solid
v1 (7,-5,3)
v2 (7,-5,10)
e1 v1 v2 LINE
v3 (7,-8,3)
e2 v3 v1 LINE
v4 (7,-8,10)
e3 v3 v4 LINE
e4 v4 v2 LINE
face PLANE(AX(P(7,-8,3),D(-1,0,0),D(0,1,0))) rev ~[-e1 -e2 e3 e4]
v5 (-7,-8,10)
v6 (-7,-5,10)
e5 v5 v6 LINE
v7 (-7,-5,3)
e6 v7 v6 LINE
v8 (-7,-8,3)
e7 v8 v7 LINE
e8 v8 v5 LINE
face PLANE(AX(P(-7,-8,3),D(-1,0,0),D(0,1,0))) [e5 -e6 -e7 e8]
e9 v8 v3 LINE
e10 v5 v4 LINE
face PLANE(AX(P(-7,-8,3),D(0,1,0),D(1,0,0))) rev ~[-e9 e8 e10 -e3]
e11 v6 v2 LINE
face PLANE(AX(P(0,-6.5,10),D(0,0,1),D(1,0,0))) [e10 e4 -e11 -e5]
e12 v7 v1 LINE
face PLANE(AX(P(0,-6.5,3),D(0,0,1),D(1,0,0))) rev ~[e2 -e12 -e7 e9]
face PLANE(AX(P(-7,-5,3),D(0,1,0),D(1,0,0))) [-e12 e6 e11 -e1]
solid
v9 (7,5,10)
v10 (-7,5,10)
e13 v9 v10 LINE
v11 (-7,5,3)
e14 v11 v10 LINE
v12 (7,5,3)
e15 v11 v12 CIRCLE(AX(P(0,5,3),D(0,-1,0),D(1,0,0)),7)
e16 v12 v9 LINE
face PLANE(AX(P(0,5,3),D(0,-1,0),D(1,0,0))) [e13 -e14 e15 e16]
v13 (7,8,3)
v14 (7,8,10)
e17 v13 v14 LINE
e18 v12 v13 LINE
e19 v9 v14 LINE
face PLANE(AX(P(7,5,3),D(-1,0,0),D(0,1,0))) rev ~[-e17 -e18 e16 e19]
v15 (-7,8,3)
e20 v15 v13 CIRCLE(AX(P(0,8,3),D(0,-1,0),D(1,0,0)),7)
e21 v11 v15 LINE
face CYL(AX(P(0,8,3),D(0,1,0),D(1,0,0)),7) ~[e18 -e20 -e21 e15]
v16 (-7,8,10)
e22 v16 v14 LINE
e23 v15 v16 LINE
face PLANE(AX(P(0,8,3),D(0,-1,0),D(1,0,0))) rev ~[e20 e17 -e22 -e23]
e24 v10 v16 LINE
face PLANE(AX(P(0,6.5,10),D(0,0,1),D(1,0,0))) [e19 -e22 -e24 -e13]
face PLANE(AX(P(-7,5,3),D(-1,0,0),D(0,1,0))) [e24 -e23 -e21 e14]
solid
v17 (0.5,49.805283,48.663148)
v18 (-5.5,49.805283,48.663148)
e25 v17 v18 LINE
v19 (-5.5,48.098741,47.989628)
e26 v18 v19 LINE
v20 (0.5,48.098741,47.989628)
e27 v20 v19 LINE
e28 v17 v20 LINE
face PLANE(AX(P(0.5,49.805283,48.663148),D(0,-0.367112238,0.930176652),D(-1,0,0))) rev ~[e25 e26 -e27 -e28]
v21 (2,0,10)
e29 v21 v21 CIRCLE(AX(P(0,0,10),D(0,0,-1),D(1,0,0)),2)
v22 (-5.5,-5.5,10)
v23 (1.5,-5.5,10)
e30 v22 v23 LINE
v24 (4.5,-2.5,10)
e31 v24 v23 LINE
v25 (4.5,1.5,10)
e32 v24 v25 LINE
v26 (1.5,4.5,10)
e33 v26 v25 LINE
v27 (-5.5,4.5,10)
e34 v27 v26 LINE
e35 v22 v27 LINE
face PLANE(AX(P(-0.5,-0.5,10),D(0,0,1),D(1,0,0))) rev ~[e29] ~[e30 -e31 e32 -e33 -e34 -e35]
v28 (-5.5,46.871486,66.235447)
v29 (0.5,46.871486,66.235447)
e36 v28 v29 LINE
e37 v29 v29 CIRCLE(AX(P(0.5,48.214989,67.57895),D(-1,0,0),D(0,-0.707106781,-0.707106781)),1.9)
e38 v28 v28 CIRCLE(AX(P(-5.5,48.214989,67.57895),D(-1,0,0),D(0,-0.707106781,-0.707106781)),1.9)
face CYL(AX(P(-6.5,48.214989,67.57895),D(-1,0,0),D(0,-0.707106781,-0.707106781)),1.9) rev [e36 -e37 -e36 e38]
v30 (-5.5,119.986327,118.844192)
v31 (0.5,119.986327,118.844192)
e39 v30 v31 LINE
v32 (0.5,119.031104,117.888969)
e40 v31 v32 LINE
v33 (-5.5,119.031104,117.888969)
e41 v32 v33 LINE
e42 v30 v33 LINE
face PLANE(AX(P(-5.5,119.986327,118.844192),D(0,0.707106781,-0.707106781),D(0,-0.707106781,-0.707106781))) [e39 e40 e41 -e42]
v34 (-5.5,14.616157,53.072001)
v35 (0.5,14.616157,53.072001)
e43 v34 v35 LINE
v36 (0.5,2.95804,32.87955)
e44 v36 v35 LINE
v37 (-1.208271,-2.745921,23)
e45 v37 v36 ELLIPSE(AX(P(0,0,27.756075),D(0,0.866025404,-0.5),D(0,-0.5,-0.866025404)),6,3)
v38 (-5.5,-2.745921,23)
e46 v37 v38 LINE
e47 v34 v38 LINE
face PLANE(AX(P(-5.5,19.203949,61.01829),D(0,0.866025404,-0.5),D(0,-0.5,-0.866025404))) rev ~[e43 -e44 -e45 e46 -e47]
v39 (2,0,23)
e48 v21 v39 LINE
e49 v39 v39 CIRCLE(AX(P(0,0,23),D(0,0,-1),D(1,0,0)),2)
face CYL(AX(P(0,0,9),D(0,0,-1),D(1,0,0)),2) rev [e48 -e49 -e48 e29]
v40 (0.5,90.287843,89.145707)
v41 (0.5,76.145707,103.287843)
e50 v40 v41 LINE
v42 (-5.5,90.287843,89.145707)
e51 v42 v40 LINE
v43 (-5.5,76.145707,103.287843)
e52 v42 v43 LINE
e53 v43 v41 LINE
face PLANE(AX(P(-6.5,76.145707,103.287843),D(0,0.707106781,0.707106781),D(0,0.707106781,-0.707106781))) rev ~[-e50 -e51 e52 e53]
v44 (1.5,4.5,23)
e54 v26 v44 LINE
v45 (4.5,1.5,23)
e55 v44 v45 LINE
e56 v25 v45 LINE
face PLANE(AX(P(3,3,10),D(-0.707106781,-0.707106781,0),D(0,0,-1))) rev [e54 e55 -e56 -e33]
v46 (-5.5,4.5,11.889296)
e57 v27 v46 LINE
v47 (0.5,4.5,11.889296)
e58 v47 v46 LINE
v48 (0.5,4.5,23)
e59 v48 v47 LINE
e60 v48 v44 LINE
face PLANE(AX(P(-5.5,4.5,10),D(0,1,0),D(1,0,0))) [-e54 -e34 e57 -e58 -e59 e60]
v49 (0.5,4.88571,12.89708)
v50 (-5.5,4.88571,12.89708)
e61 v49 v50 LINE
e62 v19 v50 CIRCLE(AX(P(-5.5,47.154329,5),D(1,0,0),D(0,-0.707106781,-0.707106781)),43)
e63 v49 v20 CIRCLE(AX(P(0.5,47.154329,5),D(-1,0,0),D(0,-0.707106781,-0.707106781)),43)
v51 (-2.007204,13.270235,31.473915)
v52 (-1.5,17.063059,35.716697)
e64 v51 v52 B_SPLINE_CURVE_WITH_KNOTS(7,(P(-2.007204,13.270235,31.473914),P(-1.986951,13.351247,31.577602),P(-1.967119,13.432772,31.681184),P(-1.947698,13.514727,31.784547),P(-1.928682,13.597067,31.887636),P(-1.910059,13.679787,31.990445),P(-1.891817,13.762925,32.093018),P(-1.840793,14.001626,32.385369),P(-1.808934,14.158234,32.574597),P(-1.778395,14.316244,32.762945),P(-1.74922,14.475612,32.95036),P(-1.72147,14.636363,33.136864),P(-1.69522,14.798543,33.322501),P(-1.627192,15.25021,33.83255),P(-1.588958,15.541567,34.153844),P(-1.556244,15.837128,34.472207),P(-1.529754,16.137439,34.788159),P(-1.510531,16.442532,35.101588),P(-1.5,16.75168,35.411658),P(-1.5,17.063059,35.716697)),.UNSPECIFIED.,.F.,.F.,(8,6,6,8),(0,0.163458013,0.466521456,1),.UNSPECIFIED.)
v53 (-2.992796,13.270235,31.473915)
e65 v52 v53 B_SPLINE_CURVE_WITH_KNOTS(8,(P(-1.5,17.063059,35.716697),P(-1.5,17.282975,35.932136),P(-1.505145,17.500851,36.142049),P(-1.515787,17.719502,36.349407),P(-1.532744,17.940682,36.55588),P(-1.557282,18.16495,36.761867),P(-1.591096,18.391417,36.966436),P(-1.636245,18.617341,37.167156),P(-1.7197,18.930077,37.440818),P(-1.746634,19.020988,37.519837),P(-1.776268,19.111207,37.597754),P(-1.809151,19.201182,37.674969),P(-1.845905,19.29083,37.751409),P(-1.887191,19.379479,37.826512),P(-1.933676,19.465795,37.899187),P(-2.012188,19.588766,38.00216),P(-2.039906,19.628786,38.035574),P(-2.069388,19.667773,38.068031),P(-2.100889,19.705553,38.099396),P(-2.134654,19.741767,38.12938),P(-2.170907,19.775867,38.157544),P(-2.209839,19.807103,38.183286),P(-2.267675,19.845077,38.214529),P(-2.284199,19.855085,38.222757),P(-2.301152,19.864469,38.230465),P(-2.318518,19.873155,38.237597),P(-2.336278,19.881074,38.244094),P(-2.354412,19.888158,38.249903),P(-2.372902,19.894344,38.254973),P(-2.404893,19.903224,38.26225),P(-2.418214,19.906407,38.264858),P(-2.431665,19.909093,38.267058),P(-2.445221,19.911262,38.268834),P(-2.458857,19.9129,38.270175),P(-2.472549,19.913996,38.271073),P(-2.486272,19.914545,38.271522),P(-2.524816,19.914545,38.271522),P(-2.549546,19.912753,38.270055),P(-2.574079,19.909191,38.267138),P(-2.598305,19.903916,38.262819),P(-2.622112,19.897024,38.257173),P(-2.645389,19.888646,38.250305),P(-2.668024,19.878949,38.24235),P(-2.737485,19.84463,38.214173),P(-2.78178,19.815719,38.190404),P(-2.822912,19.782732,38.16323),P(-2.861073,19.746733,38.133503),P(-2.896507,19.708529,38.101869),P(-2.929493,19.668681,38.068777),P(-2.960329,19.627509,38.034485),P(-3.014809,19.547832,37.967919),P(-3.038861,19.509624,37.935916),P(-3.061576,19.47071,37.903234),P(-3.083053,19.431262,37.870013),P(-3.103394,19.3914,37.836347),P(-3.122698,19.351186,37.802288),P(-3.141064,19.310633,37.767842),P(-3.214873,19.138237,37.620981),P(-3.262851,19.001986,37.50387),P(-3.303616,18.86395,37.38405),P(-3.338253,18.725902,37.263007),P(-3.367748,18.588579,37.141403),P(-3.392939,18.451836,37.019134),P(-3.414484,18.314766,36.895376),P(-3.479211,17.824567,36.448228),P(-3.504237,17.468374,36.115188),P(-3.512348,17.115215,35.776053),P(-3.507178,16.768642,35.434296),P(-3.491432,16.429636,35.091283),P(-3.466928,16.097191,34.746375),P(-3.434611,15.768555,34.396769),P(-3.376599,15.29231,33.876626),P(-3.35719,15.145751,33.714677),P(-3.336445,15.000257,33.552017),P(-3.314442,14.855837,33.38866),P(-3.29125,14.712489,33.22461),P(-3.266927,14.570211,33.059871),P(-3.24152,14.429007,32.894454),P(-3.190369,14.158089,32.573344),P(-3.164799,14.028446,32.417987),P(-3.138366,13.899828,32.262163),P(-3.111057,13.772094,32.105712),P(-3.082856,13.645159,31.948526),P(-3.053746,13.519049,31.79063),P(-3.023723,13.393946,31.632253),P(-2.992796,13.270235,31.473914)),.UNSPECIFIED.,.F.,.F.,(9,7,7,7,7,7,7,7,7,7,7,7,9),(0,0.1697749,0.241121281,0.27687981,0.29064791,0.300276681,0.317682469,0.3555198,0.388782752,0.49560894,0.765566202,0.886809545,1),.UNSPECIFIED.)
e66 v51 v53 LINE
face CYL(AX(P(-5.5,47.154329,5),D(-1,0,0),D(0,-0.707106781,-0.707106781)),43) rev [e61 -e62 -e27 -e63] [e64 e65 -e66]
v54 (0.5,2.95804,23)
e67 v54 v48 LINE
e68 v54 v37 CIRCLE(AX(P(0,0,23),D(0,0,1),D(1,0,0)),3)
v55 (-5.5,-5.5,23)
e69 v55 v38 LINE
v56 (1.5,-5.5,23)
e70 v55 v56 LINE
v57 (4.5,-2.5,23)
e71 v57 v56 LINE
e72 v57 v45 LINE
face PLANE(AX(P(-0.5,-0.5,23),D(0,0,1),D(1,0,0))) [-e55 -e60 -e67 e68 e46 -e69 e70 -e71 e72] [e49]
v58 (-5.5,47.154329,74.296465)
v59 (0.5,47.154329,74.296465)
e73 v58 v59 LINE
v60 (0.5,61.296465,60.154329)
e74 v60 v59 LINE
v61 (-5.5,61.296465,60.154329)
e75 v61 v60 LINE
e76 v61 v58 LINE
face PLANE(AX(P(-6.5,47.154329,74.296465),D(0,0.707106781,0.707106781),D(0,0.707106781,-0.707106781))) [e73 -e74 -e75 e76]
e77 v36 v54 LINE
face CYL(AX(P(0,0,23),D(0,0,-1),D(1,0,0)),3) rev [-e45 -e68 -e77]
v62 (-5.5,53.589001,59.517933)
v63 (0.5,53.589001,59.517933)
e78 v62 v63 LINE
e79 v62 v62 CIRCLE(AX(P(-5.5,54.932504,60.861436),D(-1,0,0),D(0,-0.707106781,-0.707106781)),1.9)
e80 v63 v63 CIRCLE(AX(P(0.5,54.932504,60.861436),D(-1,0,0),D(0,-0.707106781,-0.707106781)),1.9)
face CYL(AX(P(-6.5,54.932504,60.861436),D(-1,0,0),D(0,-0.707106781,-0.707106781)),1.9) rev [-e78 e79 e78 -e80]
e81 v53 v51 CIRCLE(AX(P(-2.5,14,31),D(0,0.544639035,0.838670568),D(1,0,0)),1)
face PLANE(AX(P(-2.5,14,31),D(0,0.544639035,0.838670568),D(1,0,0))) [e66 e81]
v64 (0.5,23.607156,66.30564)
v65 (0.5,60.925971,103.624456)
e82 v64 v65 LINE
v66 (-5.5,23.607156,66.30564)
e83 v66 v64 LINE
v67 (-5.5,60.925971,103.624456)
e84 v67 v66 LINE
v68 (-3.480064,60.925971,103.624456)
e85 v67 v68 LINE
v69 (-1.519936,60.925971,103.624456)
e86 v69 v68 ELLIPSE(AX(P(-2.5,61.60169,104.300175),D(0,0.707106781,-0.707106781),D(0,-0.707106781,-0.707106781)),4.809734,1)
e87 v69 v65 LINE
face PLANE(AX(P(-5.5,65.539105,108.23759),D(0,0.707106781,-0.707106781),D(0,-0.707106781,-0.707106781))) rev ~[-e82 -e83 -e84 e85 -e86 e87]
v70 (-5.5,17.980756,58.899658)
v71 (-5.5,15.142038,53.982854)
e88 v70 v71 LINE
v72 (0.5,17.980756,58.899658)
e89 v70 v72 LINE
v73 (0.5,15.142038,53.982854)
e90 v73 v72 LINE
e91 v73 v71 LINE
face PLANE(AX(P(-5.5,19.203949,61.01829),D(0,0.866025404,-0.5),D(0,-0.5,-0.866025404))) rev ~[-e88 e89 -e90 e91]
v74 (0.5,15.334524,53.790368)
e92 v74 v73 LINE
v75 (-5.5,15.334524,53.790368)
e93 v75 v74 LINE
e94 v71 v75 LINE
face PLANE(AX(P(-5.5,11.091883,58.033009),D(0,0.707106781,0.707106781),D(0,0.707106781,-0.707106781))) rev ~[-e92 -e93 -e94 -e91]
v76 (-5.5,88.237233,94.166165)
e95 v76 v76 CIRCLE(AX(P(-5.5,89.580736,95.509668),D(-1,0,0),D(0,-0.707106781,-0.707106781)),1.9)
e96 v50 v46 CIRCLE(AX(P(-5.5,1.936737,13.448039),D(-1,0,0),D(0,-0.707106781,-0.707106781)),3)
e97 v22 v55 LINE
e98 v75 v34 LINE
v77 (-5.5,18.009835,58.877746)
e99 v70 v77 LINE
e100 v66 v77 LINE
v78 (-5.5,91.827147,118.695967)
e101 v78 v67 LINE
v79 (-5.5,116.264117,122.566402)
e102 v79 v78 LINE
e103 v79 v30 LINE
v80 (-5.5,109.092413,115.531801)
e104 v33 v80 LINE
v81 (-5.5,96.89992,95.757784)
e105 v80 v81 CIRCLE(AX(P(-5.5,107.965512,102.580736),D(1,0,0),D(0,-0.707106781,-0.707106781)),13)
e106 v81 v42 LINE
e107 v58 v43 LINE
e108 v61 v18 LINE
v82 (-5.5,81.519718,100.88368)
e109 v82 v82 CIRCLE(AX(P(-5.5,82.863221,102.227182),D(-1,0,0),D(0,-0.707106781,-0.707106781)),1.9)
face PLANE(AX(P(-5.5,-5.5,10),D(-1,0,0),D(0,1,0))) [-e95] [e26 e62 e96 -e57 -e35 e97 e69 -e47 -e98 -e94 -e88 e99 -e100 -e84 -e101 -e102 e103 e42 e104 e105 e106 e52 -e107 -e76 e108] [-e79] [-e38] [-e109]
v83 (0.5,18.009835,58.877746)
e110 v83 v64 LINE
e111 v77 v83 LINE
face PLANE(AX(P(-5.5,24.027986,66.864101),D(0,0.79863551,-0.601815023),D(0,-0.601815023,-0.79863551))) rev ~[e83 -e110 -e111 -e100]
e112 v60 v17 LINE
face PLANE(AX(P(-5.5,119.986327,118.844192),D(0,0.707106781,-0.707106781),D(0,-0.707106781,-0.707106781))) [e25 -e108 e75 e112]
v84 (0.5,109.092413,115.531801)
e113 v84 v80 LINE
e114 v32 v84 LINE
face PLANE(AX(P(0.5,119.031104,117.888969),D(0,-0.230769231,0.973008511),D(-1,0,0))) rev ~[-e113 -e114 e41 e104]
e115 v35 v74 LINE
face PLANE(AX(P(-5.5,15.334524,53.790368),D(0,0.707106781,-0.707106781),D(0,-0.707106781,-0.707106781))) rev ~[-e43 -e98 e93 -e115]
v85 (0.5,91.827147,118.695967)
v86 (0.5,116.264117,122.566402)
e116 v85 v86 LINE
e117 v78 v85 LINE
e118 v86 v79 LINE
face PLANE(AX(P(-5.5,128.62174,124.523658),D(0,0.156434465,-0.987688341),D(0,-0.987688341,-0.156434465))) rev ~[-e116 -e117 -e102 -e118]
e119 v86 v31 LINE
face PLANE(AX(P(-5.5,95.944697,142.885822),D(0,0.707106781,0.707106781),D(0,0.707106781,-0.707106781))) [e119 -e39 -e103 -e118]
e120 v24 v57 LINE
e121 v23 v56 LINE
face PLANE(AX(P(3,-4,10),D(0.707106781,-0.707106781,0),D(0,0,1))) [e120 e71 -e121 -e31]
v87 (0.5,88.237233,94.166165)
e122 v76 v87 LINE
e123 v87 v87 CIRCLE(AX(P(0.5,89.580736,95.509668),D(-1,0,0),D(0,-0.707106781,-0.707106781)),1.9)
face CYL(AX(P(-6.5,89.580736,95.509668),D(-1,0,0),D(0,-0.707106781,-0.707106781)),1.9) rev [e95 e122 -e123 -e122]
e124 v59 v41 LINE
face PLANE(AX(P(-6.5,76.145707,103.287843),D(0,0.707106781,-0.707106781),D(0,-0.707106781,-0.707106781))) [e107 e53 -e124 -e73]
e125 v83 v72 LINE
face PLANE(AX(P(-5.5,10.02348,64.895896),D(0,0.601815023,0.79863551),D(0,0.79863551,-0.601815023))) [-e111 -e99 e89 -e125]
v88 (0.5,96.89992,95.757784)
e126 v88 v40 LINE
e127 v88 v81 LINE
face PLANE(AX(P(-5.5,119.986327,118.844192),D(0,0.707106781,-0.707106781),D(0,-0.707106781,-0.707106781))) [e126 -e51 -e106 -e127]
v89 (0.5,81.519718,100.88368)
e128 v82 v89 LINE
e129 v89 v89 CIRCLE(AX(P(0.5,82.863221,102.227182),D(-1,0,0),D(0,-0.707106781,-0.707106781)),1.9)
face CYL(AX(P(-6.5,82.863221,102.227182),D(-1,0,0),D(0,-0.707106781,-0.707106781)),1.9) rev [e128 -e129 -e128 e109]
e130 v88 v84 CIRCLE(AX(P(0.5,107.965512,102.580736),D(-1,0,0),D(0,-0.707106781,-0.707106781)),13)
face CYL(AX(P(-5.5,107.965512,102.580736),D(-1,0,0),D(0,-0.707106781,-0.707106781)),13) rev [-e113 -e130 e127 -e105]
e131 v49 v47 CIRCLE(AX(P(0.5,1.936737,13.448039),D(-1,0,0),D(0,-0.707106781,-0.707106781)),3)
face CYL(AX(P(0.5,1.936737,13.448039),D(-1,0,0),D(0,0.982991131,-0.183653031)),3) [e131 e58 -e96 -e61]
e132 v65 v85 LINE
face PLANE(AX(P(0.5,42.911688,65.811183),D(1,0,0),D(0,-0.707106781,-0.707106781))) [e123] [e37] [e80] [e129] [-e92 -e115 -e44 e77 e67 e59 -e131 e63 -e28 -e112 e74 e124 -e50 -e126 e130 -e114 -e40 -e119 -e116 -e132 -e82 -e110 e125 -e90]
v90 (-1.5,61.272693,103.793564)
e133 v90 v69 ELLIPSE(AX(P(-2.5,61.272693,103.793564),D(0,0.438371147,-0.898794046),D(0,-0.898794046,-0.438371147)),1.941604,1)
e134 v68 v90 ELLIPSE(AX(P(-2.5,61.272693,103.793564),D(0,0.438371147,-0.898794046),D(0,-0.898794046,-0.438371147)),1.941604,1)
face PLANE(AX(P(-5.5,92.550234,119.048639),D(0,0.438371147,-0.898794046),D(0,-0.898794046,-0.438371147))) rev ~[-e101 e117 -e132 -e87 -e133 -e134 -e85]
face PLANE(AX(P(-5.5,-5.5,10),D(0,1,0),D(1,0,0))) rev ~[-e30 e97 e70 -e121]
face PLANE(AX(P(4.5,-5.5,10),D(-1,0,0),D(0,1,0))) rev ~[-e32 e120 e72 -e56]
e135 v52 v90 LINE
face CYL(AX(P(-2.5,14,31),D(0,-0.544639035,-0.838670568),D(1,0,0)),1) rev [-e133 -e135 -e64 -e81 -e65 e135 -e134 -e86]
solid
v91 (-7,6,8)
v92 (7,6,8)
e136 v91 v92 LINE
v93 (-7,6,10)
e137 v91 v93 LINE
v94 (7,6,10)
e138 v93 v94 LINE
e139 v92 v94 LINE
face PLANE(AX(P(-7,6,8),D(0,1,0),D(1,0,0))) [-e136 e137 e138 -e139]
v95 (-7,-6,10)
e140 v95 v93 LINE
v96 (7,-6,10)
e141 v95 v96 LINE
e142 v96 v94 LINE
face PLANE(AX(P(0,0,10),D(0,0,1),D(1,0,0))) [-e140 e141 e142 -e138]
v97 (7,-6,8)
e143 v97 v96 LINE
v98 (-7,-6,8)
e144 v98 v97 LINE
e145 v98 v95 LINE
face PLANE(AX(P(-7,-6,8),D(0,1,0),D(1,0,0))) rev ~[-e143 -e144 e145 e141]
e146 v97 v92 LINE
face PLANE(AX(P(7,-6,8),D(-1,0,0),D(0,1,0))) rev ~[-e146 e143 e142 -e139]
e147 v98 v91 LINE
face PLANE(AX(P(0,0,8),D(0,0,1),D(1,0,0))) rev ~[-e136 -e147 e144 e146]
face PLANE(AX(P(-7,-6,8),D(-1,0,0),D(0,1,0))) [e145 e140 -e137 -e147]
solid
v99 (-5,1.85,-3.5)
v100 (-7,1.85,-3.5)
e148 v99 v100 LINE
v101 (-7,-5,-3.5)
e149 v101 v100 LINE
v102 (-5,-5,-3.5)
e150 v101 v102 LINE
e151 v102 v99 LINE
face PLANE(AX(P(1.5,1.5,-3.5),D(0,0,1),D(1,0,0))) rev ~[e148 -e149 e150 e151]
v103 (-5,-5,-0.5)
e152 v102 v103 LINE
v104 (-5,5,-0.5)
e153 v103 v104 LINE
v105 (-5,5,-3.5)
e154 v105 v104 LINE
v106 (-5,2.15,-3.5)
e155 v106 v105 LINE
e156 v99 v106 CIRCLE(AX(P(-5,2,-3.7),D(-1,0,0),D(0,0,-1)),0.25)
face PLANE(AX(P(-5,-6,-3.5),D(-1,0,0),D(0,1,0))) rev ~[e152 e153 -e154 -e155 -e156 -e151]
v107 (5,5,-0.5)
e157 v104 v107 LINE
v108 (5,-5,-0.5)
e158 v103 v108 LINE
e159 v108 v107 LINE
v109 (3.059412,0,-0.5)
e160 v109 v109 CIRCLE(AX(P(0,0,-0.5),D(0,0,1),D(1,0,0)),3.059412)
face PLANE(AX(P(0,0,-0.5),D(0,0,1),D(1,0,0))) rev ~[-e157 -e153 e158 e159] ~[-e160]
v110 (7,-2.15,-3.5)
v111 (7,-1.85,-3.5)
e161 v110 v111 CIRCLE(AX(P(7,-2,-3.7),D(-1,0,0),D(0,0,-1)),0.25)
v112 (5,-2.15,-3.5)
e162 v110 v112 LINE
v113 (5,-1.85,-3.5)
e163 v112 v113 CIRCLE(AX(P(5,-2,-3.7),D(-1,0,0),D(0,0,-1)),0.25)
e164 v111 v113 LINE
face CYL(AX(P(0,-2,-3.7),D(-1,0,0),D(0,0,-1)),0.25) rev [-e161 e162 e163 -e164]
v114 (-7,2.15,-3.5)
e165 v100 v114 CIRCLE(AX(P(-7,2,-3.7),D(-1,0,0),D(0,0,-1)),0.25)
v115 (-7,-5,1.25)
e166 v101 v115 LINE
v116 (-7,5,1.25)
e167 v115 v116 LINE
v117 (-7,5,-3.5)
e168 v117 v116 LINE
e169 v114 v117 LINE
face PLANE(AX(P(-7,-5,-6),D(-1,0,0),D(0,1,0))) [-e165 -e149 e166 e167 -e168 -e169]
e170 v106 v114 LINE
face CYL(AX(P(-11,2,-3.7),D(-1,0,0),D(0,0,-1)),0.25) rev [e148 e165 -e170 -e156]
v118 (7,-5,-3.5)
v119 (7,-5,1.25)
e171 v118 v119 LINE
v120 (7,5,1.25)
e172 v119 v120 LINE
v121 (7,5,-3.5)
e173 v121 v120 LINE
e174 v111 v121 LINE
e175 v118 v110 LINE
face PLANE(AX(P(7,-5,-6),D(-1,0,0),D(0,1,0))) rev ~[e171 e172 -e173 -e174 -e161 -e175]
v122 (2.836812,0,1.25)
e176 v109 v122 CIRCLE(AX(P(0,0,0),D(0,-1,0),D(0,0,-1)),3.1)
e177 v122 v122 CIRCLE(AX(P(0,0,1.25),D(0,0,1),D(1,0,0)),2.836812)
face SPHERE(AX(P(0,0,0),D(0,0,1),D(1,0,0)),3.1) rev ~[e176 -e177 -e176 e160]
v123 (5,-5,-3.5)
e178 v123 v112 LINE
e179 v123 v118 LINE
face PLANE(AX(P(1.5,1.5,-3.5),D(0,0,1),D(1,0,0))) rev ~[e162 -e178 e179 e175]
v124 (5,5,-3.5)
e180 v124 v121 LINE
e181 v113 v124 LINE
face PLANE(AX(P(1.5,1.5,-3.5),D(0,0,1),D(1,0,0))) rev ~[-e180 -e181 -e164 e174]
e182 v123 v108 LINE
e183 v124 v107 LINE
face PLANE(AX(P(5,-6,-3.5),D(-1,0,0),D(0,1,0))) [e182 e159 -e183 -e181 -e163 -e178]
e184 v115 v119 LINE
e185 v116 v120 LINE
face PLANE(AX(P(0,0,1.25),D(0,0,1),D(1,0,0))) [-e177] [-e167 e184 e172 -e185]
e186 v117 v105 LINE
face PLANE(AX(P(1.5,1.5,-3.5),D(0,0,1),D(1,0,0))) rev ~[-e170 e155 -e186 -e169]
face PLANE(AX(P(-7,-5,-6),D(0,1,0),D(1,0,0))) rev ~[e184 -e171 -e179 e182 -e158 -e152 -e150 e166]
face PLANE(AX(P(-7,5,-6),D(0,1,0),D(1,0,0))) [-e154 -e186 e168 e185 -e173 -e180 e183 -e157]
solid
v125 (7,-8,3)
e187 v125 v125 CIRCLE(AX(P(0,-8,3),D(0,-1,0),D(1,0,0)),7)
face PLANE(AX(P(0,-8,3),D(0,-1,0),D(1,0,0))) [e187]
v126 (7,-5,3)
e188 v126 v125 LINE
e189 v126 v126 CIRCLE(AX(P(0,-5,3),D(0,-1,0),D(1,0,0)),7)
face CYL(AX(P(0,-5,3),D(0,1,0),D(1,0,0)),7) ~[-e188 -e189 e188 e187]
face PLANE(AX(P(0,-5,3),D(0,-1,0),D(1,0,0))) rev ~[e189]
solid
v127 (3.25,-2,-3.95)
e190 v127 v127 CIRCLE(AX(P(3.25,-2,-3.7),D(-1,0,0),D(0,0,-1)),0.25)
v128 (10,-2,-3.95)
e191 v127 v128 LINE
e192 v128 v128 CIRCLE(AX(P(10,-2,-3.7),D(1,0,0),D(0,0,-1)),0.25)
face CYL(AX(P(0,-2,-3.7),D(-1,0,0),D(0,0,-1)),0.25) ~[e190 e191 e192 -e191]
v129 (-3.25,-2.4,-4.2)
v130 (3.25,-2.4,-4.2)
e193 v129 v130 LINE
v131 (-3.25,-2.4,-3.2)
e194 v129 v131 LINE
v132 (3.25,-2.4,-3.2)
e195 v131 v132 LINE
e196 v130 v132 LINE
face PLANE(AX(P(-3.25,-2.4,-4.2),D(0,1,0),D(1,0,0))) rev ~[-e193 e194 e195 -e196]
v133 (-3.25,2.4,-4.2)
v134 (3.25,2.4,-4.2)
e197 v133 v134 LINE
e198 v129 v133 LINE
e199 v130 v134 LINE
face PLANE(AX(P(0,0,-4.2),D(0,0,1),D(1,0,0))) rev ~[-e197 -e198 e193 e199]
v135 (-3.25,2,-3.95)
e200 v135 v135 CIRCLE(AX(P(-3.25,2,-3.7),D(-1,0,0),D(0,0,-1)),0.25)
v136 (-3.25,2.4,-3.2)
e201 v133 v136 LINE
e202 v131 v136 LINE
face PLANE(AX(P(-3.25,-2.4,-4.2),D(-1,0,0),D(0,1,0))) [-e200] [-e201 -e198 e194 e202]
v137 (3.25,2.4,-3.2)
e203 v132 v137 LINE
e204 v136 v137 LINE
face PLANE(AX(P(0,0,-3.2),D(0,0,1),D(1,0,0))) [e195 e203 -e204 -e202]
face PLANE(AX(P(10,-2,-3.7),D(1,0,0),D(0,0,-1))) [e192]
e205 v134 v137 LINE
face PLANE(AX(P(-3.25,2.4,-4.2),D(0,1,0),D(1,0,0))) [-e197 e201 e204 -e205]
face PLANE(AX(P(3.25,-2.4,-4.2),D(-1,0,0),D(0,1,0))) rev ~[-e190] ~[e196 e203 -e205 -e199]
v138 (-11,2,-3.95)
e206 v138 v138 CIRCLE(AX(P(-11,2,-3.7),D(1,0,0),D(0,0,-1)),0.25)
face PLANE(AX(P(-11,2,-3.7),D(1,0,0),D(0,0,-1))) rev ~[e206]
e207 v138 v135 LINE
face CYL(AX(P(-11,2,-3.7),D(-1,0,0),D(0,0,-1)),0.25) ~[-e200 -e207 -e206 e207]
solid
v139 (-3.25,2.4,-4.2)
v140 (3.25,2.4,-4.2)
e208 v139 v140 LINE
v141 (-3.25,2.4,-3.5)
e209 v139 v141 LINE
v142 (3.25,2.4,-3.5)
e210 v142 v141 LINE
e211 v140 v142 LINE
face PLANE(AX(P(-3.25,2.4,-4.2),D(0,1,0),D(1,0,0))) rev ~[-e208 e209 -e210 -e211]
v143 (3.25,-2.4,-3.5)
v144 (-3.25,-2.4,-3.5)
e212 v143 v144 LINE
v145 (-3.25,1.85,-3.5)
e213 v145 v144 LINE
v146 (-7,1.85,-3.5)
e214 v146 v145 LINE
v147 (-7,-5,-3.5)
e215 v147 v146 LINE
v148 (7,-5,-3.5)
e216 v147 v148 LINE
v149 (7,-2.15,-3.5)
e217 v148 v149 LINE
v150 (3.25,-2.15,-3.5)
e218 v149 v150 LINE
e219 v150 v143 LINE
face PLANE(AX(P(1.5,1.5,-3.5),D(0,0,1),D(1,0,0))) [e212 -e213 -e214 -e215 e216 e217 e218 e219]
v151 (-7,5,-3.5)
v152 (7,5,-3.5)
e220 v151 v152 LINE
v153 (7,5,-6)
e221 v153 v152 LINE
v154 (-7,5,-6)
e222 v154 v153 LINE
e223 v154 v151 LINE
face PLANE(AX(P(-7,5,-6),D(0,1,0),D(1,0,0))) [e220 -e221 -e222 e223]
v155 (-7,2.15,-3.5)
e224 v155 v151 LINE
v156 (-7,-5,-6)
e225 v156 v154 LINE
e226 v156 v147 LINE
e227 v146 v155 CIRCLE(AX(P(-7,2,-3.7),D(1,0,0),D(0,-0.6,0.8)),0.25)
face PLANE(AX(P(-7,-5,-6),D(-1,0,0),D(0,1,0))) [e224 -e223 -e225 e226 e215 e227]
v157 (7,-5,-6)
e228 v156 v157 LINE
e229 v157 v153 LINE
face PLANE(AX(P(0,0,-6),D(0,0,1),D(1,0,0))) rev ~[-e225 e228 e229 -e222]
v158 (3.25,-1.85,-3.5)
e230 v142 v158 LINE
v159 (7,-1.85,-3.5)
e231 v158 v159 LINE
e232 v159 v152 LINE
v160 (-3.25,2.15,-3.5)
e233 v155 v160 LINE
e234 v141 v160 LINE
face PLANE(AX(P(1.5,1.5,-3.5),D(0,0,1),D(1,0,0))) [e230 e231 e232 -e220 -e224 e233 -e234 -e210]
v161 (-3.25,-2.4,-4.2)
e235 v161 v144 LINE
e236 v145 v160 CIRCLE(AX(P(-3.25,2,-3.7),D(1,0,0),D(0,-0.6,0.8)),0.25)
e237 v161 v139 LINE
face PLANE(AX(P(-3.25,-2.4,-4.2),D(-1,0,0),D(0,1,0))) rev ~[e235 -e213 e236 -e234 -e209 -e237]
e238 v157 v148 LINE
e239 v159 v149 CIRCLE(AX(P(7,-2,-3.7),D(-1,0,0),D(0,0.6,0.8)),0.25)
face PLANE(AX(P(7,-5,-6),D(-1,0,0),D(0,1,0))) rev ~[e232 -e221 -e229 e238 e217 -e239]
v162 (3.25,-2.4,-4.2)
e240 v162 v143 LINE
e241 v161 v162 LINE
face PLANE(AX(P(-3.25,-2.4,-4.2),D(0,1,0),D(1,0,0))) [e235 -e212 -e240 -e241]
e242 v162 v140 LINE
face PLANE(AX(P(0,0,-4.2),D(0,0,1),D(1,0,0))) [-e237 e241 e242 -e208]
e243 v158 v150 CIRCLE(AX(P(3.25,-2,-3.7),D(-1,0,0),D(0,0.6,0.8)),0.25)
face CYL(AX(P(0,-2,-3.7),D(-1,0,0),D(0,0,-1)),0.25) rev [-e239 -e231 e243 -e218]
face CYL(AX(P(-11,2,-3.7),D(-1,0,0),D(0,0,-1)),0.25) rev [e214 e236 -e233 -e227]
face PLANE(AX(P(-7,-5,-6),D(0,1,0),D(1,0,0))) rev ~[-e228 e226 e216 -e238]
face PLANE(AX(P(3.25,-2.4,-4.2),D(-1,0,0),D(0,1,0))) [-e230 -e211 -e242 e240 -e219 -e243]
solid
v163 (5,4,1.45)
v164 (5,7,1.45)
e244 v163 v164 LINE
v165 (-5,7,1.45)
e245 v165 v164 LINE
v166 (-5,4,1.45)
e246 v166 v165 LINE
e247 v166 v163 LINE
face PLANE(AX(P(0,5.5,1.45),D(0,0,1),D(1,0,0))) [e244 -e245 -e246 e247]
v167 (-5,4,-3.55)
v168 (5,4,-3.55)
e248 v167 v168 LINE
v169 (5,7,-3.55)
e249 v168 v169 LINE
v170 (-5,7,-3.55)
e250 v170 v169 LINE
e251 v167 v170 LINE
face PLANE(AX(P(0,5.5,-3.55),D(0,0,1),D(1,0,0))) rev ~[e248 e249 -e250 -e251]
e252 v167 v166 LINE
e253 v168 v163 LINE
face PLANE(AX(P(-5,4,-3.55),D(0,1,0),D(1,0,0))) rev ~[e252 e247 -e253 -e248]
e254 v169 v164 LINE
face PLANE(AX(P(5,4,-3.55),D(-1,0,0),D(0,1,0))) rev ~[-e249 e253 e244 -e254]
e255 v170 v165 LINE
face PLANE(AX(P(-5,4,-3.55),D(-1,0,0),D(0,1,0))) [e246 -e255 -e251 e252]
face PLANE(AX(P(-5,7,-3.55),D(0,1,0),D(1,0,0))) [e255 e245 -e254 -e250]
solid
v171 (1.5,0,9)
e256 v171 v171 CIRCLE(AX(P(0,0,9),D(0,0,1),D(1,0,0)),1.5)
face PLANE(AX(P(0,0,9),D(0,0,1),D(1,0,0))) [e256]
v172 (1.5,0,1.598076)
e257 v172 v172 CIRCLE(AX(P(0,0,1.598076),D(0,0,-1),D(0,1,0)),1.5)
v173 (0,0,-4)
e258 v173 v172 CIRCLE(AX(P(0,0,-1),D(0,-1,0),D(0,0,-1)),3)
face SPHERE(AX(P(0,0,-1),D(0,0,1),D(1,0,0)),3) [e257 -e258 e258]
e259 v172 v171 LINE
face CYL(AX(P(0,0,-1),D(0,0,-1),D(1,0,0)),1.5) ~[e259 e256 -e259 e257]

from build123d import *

# Parameters (mm, degrees)
CYLINDER002_R           = 0.25
CYLINDER002_DEPTH       = 10
CYLINDER002_PITCH_ANGLE = 90
CYLINDER001_R           = 0.25
CYLINDER001_DEPTH       = 10
CYLINDER001_PITCH_ANGLE = 90
BOX_W                   = 6.5
BOX_H                   = 4.8
BOX_DEPTH               = 1
BOX004_W                = 10
BOX004_H                = 3
BOX004_DEPTH            = 5
CYLINDER_R              = 1.5
CYLINDER_DEPTH          = 10
BOX005_W                = 21
BOX005_H                = 17
BOX005_DEPTH            = 8
CYLINDER005_R           = 2.5
CYLINDER005_DEPTH       = 10
CYLINDER004_R           = 0.25
CYLINDER004_DEPTH       = 10
CYLINDER004_PITCH_ANGLE = 90
CYLINDER003_R           = 0.25
CYLINDER003_DEPTH       = 10
CYLINDER003_PITCH_ANGLE = 90
BOX002_W                = 6.5
BOX002_H                = 4.8
BOX002_DEPTH            = 1
BOX003_W                = 10
BOX003_H                = 12
BOX003_DEPTH            = 3
BOX001_W                = 14
BOX001_H                = 10
BOX001_DEPTH            = 7.25
BOX006_W                = 21
BOX006_H                = 17
BOX006_DEPTH            = 12
CYLINDER006_R           = 7
CYLINDER006_DEPTH       = 3
CYLINDER006_ROLL_ANGLE  = 90
BOX007_W                = 14
BOX007_H                = 3
BOX007_DEPTH            = 7
BOX008_W                = 14
BOX008_H                = 3
BOX008_DEPTH            = 7
CYLINDER007_R           = 7
CYLINDER007_DEPTH       = 3
CYLINDER007_ROLL_ANGLE  = 90
BOX009_W                = 14
BOX009_H                = 12
BOX009_DEPTH            = 2
CYLINDER025_R           = 1
CYLINDER025_DEPTH       = 96
CYLINDER025_ROLL_ANGLE  = -33
CYLINDER020_R           = 2
CYLINDER020_DEPTH       = 16
CYLINDER024_R           = 3
CYLINDER024_DEPTH       = 16
CYLINDER022_R           = 3
CYLINDER022_DEPTH       = 16
BOX022_W                = 26
BOX022_H                = 23
BOX022_DEPTH            = 13
CYLINDER011_R           = 1.9
CYLINDER011_DEPTH       = 12
CYLINDER012_R           = 1.9
CYLINDER012_DEPTH       = 12
CYLINDER013_R           = 1.9
CYLINDER013_DEPTH       = 12
CYLINDER014_R           = 1.9
CYLINDER014_DEPTH       = 12
BOX010_W                = 41
BOX010_H                = 20
BOX010_DEPTH            = 12
BOX021_W                = 10
BOX021_H                = 10
BOX021_DEPTH            = 10
BOX021_PLACEMENT_ANGLE  = 8
BOX020_W                = 14
BOX020_H                = 10
BOX020_DEPTH            = 10
BOX020_PLACEMENT_ANGLE  = 16
BOX019_W                = 65
BOX019_H                = 11
BOX019_DEPTH            = 10
BOX019_PLACEMENT_ANGLE  = 15
BOX018_W                = 76
BOX018_H                = 10
BOX018_DEPTH            = 10
BOX017_W                = 49
BOX017_H                = 10
BOX017_DEPTH            = 10
BOX017_PLACEMENT_ANGLE  = -19
BOX016_W                = 53
BOX016_H                = 10
BOX016_DEPTH            = 10
BOX016_PLACEMENT_ANGLE  = -36
BOX015_W                = 13
BOX015_H                = 11
BOX015_DEPTH            = 10
BOX014_W                = 23
BOX014_H                = 17
BOX014_DEPTH            = 10
BOX013_W                = 41
BOX013_H                = 6
BOX013_DEPTH            = 10
CYLINDER016_R           = 43
CYLINDER016_DEPTH       = 10
CYLINDER015_R           = 13
CYLINDER015_DEPTH       = 10
BOX012_W                = 37
BOX012_H                = 8
BOX012_DEPTH            = 12
BOX011_W                = 184
BOX011_H                = 34
BOX011_DEPTH            = 6
CHAMFER_SIZE            = 6
CHAMFER001_SIZE         = 1
CUT025_PITCH_ANGLE      = 90
FILLET_R                = 3
FILLET001_R             = 3
CUT035_ROLL_ANGLE       = -45
BOX024_W                = 10
BOX024_H                = 10
BOX024_DEPTH            = 13
CHAMFER002_SIZE         = 3
CHAMFER003_SIZE         = 3


with BuildPart() as cylinder002:
    # Cylinder002 → Cylinder002 (new body)
    with BuildSketch(Plane.XY):
        Circle(CYLINDER002_R)
    extrude(amount=CYLINDER002_DEPTH)


with BuildPart() as cylinder002_1:
    # Cylinder002 pitch: moved
    add(cylinder002.part.rotate(Axis((0, 0, 0), (0, 1, 0)), CYLINDER002_PITCH_ANGLE))


with BuildPart() as cylinder002_2:
    # Cylinder002 placement: moved
    add(cylinder002_1.part.moved(Location((0, -2, -3.7))))


with BuildPart() as fusion002:
    # Cylinder001 → Cylinder001 (new body)
    with BuildSketch(Plane.XY):
        Circle(CYLINDER001_R)
    extrude(amount=CYLINDER001_DEPTH)


with BuildPart() as fusion002_1:
    # Cylinder001 pitch: moved
    add(fusion002.part.rotate(Axis((0, 0, 0), (0, 1, 0)), CYLINDER001_PITCH_ANGLE))


with BuildPart() as fusion002_2:
    # Cylinder001 placement: moved
    add(fusion002_1.part.moved(Location((-11, 2, -3.7))))

    # Fusion002: union Cylinder002
    add(cylinder002_2.part)


with BuildPart() as switch:
    # Box → Box (new body)
    with BuildSketch(Plane(origin=(-3.25, -2.4, -4.2), x_dir=(1, 0, 0), z_dir=(0, 0, 1))):
        with Locations((3.25, 2.4)):
            Rectangle(BOX_W, BOX_H)
    extrude(amount=BOX_DEPTH)

    # Fusion003: union Fusion002
    add(fusion002_2.part)


with BuildPart() as cube004:
    # Box004 → Box004 (new body)
    with BuildSketch(Plane(origin=(-5, 4, -3.55), x_dir=(1, 0, 0), z_dir=(0, 0, 1))):
        with Locations((5, 1.5)):
            Rectangle(BOX004_W, BOX004_H)
    extrude(amount=BOX004_DEPTH)


with BuildPart() as cylinder:
    # Cylinder → Cylinder (new body)
    with BuildSketch(Plane.XY):
        Circle(CYLINDER_R)
    extrude(amount=CYLINDER_DEPTH)


with BuildPart() as ball_and_screw:
    # Sphere → Sphere (revolve)
    with BuildSketch(Plane.XZ):
        with BuildLine():
            ThreePointArc((0, -3), (3, 0), (0, 3))
            Line((0, 3), (0, -3))
        make_face()
    revolve(axis=Axis((0, 0, 0), (0, 0, 1)))

    # Fusion005: union Cylinder
    add(cylinder.part)


with BuildPart() as ball_and_screw_1:
    # Fusion005 placement: moved
    add(ball_and_screw.part.moved(Location((0, 0, -1))))


with BuildPart() as cube005:
    # Box005 → Box005 (new body)
    with BuildSketch(Plane(origin=(-9, -7, -3.5), x_dir=(1, 0, 0), z_dir=(0, 0, 1))):
        with Locations((10.5, 8.5)):
            Rectangle(BOX005_W, BOX005_H)
    extrude(amount=BOX005_DEPTH)


with BuildPart() as cylinder005:
    # Cylinder005 → Cylinder005 (new body)
    with BuildSketch(Plane.XY.offset(0.5)):
        Circle(CYLINDER005_R)
    extrude(amount=CYLINDER005_DEPTH)


with BuildPart() as fusion004:
    # Sphere001 → Sphere001 (revolve)
    with BuildSketch(Plane.XZ):
        with BuildLine():
            ThreePointArc((0, -3.1), (3.1, 0), (0, 3.1))
            Line((0, 3.1), (0, -3.1))
        make_face()
    revolve(axis=Axis((0, 0, 0), (0, 0, 1)))

    # Fusion004: union Cylinder005
    add(cylinder005.part)


with BuildPart() as cylinder004:
    # Cylinder004 → Cylinder004 (new body)
    with BuildSketch(Plane.XY):
        Circle(CYLINDER004_R)
    extrude(amount=CYLINDER004_DEPTH)


with BuildPart() as cylinder004_1:
    # Cylinder004 pitch: moved
    add(cylinder004.part.rotate(Axis((0, 0, 0), (0, 1, 0)), CYLINDER004_PITCH_ANGLE))


with BuildPart() as cylinder004_2:
    # Cylinder004 placement: moved
    add(cylinder004_1.part.moved(Location((0, -2, -3.7))))


with BuildPart() as fusion:
    # Cylinder003 → Cylinder003 (new body)
    with BuildSketch(Plane.XY):
        Circle(CYLINDER003_R)
    extrude(amount=CYLINDER003_DEPTH)


with BuildPart() as fusion_1:
    # Cylinder003 pitch: moved
    add(fusion.part.rotate(Axis((0, 0, 0), (0, 1, 0)), CYLINDER003_PITCH_ANGLE))


with BuildPart() as fusion_2:
    # Cylinder003 placement: moved
    add(fusion_1.part.moved(Location((-11, 2, -3.7))))

    # Fusion: union Cylinder004
    add(cylinder004_2.part)


with BuildPart() as fusion001:
    # Box002 → Box002 (new body)
    with BuildSketch(Plane(origin=(-3.25, -2.4, -4.2), x_dir=(1, 0, 0), z_dir=(0, 0, 1))):
        with Locations((3.25, 2.4)):
            Rectangle(BOX002_W, BOX002_H)
    extrude(amount=BOX002_DEPTH)

    # Fusion001: union Fusion
    add(fusion_2.part)


with BuildPart() as cube003:
    # Box003 → Box003 (new body)
    with BuildSketch(Plane(origin=(-5, -6, -3.5), x_dir=(1, 0, 0), z_dir=(0, 0, 1))):
        with Locations((5, 6)):
            Rectangle(BOX003_W, BOX003_H)
    extrude(amount=BOX003_DEPTH)


with BuildPart() as cut001:
    # Box001 → Box001 (new body)
    with BuildSketch(Plane(origin=(-7, -5, -6), x_dir=(1, 0, 0), z_dir=(0, 0, 1))):
        with Locations((7, 5)):
            Rectangle(BOX001_W, BOX001_H)
    extrude(amount=BOX001_DEPTH)

    # Cut: cut Cube003
    add(cube003.part, mode=Mode.SUBTRACT)

    # Cut001: cut Fusion001
    add(fusion001.part, mode=Mode.SUBTRACT)


with BuildPart() as bottom_switch_holder:
    # Cut003 base: copy of Cut001
    add(cut001.part)

    # Cut003: cut Fusion004
    add(fusion004.part, mode=Mode.SUBTRACT)

    # Cut004: cut Cube005
    add(cube005.part, mode=Mode.SUBTRACT)


with BuildPart() as cube006:
    # Box006 → Box006 (new body)
    with BuildSketch(Plane(origin=(-9, -7, -3.5), x_dir=(1, 0, 0), z_dir=(0, 0, 1))):
        with Locations((10.5, 8.5)):
            Rectangle(BOX006_W, BOX006_H)
    extrude(amount=BOX006_DEPTH)


with BuildPart() as ball_and_screw_holder:
    # Cut002 base: copy of Cut001
    add(cut001.part)

    # Cut002: cut Fusion004
    add(fusion004.part, mode=Mode.SUBTRACT)

    # Common: intersect Cube006
    add(cube006.part, mode=Mode.INTERSECT)


with BuildPart() as cylinder006:
    # Cylinder006 → Cylinder006 (new body)
    with BuildSketch(Plane.XY):
        Circle(CYLINDER006_R)
    extrude(amount=CYLINDER006_DEPTH)


with BuildPart() as cylinder006_1:
    # Cylinder006 roll: moved
    add(cylinder006.part.rotate(Axis((0, 0, 0), (1, 0, 0)), CYLINDER006_ROLL_ANGLE))


with BuildPart() as cylinder006_2:
    # Cylinder006 placement: moved
    add(cylinder006_1.part.moved(Location((0, 8, 3))))


with BuildPart() as fusion006:
    # Box007 → Box007 (new body)
    with BuildSketch(Plane(origin=(-7, 5, 3), x_dir=(1, 0, 0), z_dir=(0, 0, 1))):
        with Locations((7, 1.5)):
            Rectangle(BOX007_W, BOX007_H)
    extrude(amount=BOX007_DEPTH)

    # Fusion006: union Cylinder006
    add(cylinder006_2.part)


with BuildPart() as cube008:
    # Box008 → Box008 (new body)
    with BuildSketch(Plane(origin=(-7, -8, 3), x_dir=(1, 0, 0), z_dir=(0, 0, 1))):
        with Locations((7, 1.5)):
            Rectangle(BOX008_W, BOX008_H)
    extrude(amount=BOX008_DEPTH)


with BuildPart() as cylinder007:
    # Cylinder007 → Cylinder007 (new body)
    with BuildSketch(Plane.XY):
        Circle(CYLINDER007_R)
    extrude(amount=CYLINDER007_DEPTH)


with BuildPart() as cylinder007_1:
    # Cylinder007 roll: moved
    add(cylinder007.part.rotate(Axis((0, 0, 0), (1, 0, 0)), CYLINDER007_ROLL_ANGLE))


with BuildPart() as cylinder007_2:
    # Cylinder007 placement: moved
    add(cylinder007_1.part.moved(Location((0, -5, 3))))


with BuildPart() as cube009:
    # Box009 → Box009 (new body)
    with BuildSketch(Plane(origin=(-7, -6, 8), x_dir=(1, 0, 0), z_dir=(0, 0, 1))):
        with Locations((7, 6)):
            Rectangle(BOX009_W, BOX009_H)
    extrude(amount=BOX009_DEPTH)


with BuildPart() as cylinder025:
    # Cylinder025 → Cylinder025 (new body)
    with BuildSketch(Plane.XY):
        Circle(CYLINDER025_R)
    extrude(amount=CYLINDER025_DEPTH)


with BuildPart() as cylinder025_1:
    # Cylinder025 roll: moved
    add(cylinder025.part.rotate(Axis((0, 0, 0), (1, 0, 0)), CYLINDER025_ROLL_ANGLE))


with BuildPart() as cylinder025_2:
    # Cylinder025 placement: moved
    add(cylinder025_1.part.moved(Location((-2.5, 14, 31))))


with BuildPart() as cylinder020:
    # Cylinder020 → Cylinder020 (new body)
    with BuildSketch(Plane.XY.offset(9)):
        Circle(CYLINDER020_R)
    extrude(amount=CYLINDER020_DEPTH)


with BuildPart() as cylinder024:
    # Cylinder024 → Cylinder024 (new body)
    with BuildSketch(Plane.XY.offset(23)):
        Circle(CYLINDER024_R)
    extrude(amount=CYLINDER024_DEPTH)


with BuildPart() as not_used_cylinder001:
    # Cylinder022 → Cylinder022 (new body)
    with BuildSketch(Plane(origin=(0, -50, 23), x_dir=(1, 0, 0), z_dir=(0, 0, 1))):
        Circle(CYLINDER022_R)
    extrude(amount=CYLINDER022_DEPTH)


with BuildPart() as cube022:
    # Box022 → Box022 (new body)
    with BuildSketch(Plane(origin=(161, 15, -3), x_dir=(1, 0, 0), z_dir=(0, 0, 1))):
        with Locations((13, 11.5)):
            Rectangle(BOX022_W, BOX022_H)
    extrude(amount=BOX022_DEPTH)


with BuildPart() as cylinder011:
    # Cylinder011 → Cylinder011 (new body)
    with BuildSketch(Plane(origin=(38, 19.5, -1), x_dir=(1, 0, 0), z_dir=(0, 0, 1))):
        Circle(CYLINDER011_R)
    extrude(amount=CYLINDER011_DEPTH)


with BuildPart() as cylinder012:
    # Cylinder012 → Cylinder012 (new body)
    with BuildSketch(Plane(origin=(38, 29, -1), x_dir=(1, 0, 0), z_dir=(0, 0, 1))):
        Circle(CYLINDER012_R)
    extrude(amount=CYLINDER012_DEPTH)


with BuildPart() as cylinder013:
    # Cylinder013 → Cylinder013 (new body)
    with BuildSketch(Plane(origin=(87, 29, -1), x_dir=(1, 0, 0), z_dir=(0, 0, 1))):
        Circle(CYLINDER013_R)
    extrude(amount=CYLINDER013_DEPTH)


with BuildPart() as cylinder014:
    # Cylinder014 → Cylinder014 (new body)
    with BuildSketch(Plane(origin=(87, 19.5, -1), x_dir=(1, 0, 0), z_dir=(0, 0, 1))):
        Circle(CYLINDER014_R)
    extrude(amount=CYLINDER014_DEPTH)


with BuildPart() as cube010:
    # Box010 → Box010 (new body)
    with BuildSketch(Plane(origin=(42, 14, -1), x_dir=(1, 0, 0), z_dir=(0, 0, 1))):
        with Locations((20.5, 10)):
            Rectangle(BOX010_W, BOX010_H)
    extrude(amount=BOX010_DEPTH)


with BuildPart() as cube021:
    # Box021 → Box021 (new body)
    with BuildSketch(Plane.XY):
        with Locations((5, 5)):
            Rectangle(BOX021_W, BOX021_H)
    extrude(amount=BOX021_DEPTH)


with BuildPart() as cube021_1:
    # Box021 placement: moved
    add(cube021.part.moved(Location((106, -7, 0))).rotate(Axis((106, -7, 0), (0, 0, 1)), BOX021_PLACEMENT_ANGLE))


with BuildPart() as cube020:
    # Box020 → Box020 (new body)
    with BuildSketch(Plane.XY):
        with Locations((7, 5)):
            Rectangle(BOX020_W, BOX020_H)
    extrude(amount=BOX020_DEPTH)


with BuildPart() as cube020_1:
    # Box020 placement: moved
    add(cube020.part.moved(Location((174, 10, 0))).rotate(Axis((174, 10, 0), (0, 0, 1)), BOX020_PLACEMENT_ANGLE))


with BuildPart() as cube019:
    # Box019 → Box019 (new body)
    with BuildSketch(Plane.XY):
        with Locations((32.5, 5.5)):
            Rectangle(BOX019_W, BOX019_H)
    extrude(amount=BOX019_DEPTH)


with BuildPart() as cube019_1:
    # Box019 placement: moved
    add(cube019.part.moved(Location((115, -7, 0))).rotate(Axis((115, -7, 0), (0, 0, 1)), BOX019_PLACEMENT_ANGLE))


with BuildPart() as cube018:
    # Box018 → Box018 (new body)
    with BuildSketch(Plane(origin=(46, -7, 0), x_dir=(1, 0, 0), z_dir=(0, 0, 1))):
        with Locations((38, 5)):
            Rectangle(BOX018_W, BOX018_H)
    extrude(amount=BOX018_DEPTH)


with BuildPart() as cube017:
    # Box017 → Box017 (new body)
    with BuildSketch(Plane.XY):
        with Locations((24.5, 5)):
            Rectangle(BOX017_W, BOX017_H)
    extrude(amount=BOX017_DEPTH)


with BuildPart() as cube017_1:
    # Box017 placement: moved
    add(cube017.part.moved(Location((16, 5, 0))).rotate(Axis((16, 5, 0), (0, 0, 1)), BOX017_PLACEMENT_ANGLE))


with BuildPart() as cube016:
    # Box016 → Box016 (new body)
    with BuildSketch(Plane.XY):
        with Locations((26.5, 5)):
            Rectangle(BOX016_W, BOX016_H)
    extrude(amount=BOX016_DEPTH)


with BuildPart() as cube016_1:
    # Box016 placement: moved
    add(cube016.part.moved(Location((-16, 28, 0))).rotate(Axis((-16, 28, 0), (0, 0, 1)), BOX016_PLACEMENT_ANGLE))


with BuildPart() as cube015:
    # Box015 → Box015 (new body)
    with BuildSketch(Plane(origin=(0, 8, 0), x_dir=(1, 0, 0), z_dir=(0, 0, 1))):
        with Locations((6.5, 5.5)):
            Rectangle(BOX015_W, BOX015_H)
    extrude(amount=BOX015_DEPTH)


with BuildPart() as cube014:
    # Box014 → Box014 (new body)
    with BuildSketch(Plane(origin=(161, 0, 0), x_dir=(1, 0, 0), z_dir=(0, 0, 1))):
        with Locations((11.5, 8.5)):
            Rectangle(BOX014_W, BOX014_H)
    extrude(amount=BOX014_DEPTH)


with BuildPart() as cube013:
    # Box013 → Box013 (new body)
    with BuildSketch(Plane(origin=(120, 0, 0), x_dir=(1, 0, 0), z_dir=(0, 0, 1))):
        with Locations((20.5, 3)):
            Rectangle(BOX013_W, BOX013_H)
    extrude(amount=BOX013_DEPTH)


with BuildPart() as cylinder016:
    # Cylinder016 → Cylinder016 (new body)
    with BuildSketch(Plane(origin=(132, 63, 0), x_dir=(1, 0, 0), z_dir=(0, 0, 1))):
        Circle(CYLINDER016_R)
    extrude(amount=CYLINDER016_DEPTH)


with BuildPart() as cylinder015:
    # Cylinder015 → Cylinder015 (new body)
    with BuildSketch(Plane(origin=(20, 37, 0), x_dir=(1, 0, 0), z_dir=(0, 0, 1))):
        Circle(CYLINDER015_R)
    extrude(amount=CYLINDER015_DEPTH)


with BuildPart() as cube012:
    # Box012 → Box012 (new body)
    with BuildSketch(Plane.XY):
        with Locations((18.5, 4)):
            Rectangle(BOX012_W, BOX012_H)
    extrude(amount=BOX012_DEPTH)


with BuildPart() as cut035:
    # Box011 → Box011 (new body)
    with BuildSketch(Plane.XY):
        with Locations((92, 17)):
            Rectangle(BOX011_W, BOX011_H)
    extrude(amount=BOX011_DEPTH)

    # Cut008: cut Cube012
    add(cube012.part, mode=Mode.SUBTRACT)

    # Cut009: cut Cylinder015
    add(cylinder015.part, mode=Mode.SUBTRACT)

    # Cut010: cut Cylinder016
    add(cylinder016.part, mode=Mode.SUBTRACT)

    # Cut011: cut Cube013
    add(cube013.part, mode=Mode.SUBTRACT)

    # Cut012: cut Cube014
    add(cube014.part, mode=Mode.SUBTRACT)

    # Cut013: cut Cube015
    add(cube015.part, mode=Mode.SUBTRACT)

    # Cut014: cut Cube016
    add(cube016_1.part, mode=Mode.SUBTRACT)

    # Cut015: cut Cube017
    add(cube017_1.part, mode=Mode.SUBTRACT)

    # Cut016: cut Cube018
    add(cube018.part, mode=Mode.SUBTRACT)

    # Cut017: cut Cube019
    add(cube019_1.part, mode=Mode.SUBTRACT)

    # Cut018: cut Cube020
    add(cube020_1.part, mode=Mode.SUBTRACT)

    # Cut019: cut Cube021
    add(cube021_1.part, mode=Mode.SUBTRACT)

    # Cut020: cut Cube010
    add(cube010.part, mode=Mode.SUBTRACT)

    # Cut021: cut Cylinder014
    add(cylinder014.part, mode=Mode.SUBTRACT)

    # Cut022: cut Cylinder013
    add(cylinder013.part, mode=Mode.SUBTRACT)

    # Cut023: cut Cylinder012
    add(cylinder012.part, mode=Mode.SUBTRACT)

    # Cut024: cut Cylinder011
    add(cylinder011.part, mode=Mode.SUBTRACT)

    # Chamfer
    chamfer_edges = [cut035.edges().sort_by_distance(p)[0] for p in [
        (7.350889, 34, 3),
    ]]
    chamfer(chamfer_edges, length=CHAMFER_SIZE)

    # Chamfer001
    chamfer001_edges = [cut035.edges().sort_by_distance(p)[0] for p in [
        (100.250984, 34, 3),
    ]]
    chamfer(chamfer001_edges, length=CHAMFER001_SIZE)

    # Cut025: cut Cube022
    add(cube022.part, mode=Mode.SUBTRACT)


with BuildPart() as cut035_1:
    # Cut025 pitch: moved
    add(cut035.part.rotate(Axis((0, 0, 0), (0, 1, 0)), CUT025_PITCH_ANGLE))


with BuildPart() as cut035_2:
    # Cut025 placement: moved
    add(cut035_1.part.moved(Location((-5.5, -24, 171))))

    # Fillet
    fillet_edges = [cut035_2.edges().sort_by_distance(p)[0] for p in [
        (-2.5, 7.250984, 10),
    ]]
    fillet(fillet_edges, radius=FILLET_R)

    # Fillet001
    fillet001_edges = [cut035_2.edges().sort_by_distance(p)[0] for p in [
        (-2.5, -7.286299, 10),
    ]]
    fillet(fillet001_edges, radius=FILLET001_R)

    # Cut035: cut Not used cylinder001
    add(not_used_cylinder001.part, mode=Mode.SUBTRACT)


with BuildPart() as cut035_3:
    # Cut035 roll: moved
    add(cut035_2.part.rotate(Axis((0, 0, 0), (1, 0, 0)), CUT035_ROLL_ANGLE))


with BuildPart() as cut035_4:
    # Cut035 placement: moved
    add(cut035_3.part.moved(Location((0, -8, 5))))


with BuildPart() as leg:
    # Box024 → Box024 (new body)
    with BuildSketch(Plane(origin=(-5.5, -5.5, 10), x_dir=(1, 0, 0), z_dir=(0, 0, 1))):
        with Locations((5, 5)):
            Rectangle(BOX024_W, BOX024_H)
    extrude(amount=BOX024_DEPTH)

    # Fusion007: union Cut035
    add(cut035_4.part)

    # Cut036: cut Cylinder024
    add(cylinder024.part, mode=Mode.SUBTRACT)

    # Cut037: cut Cylinder020
    add(cylinder020.part, mode=Mode.SUBTRACT)

    # Chamfer002
    chamfer002_edges = [leg.edges().sort_by_distance(p)[0] for p in [
        (4.5, 4.5, 16.5),
    ]]
    chamfer(chamfer002_edges, length=CHAMFER002_SIZE)

    # Chamfer003
    chamfer003_edges = [leg.edges().sort_by_distance(p)[0] for p in [
        (4.5, -5.5, 16.5),
    ]]
    chamfer(chamfer003_edges, length=CHAMFER003_SIZE)

    # Cut038: cut Cylinder025
    add(cylinder025_2.part, mode=Mode.SUBTRACT)


solid = Compound([switch.part, cube004.part, ball_and_screw_1.part, bottom_switch_holder.part, ball_and_screw_holder.part, fusion006.part, cube008.part, cylinder007_2.part, cube009.part, leg.part])
